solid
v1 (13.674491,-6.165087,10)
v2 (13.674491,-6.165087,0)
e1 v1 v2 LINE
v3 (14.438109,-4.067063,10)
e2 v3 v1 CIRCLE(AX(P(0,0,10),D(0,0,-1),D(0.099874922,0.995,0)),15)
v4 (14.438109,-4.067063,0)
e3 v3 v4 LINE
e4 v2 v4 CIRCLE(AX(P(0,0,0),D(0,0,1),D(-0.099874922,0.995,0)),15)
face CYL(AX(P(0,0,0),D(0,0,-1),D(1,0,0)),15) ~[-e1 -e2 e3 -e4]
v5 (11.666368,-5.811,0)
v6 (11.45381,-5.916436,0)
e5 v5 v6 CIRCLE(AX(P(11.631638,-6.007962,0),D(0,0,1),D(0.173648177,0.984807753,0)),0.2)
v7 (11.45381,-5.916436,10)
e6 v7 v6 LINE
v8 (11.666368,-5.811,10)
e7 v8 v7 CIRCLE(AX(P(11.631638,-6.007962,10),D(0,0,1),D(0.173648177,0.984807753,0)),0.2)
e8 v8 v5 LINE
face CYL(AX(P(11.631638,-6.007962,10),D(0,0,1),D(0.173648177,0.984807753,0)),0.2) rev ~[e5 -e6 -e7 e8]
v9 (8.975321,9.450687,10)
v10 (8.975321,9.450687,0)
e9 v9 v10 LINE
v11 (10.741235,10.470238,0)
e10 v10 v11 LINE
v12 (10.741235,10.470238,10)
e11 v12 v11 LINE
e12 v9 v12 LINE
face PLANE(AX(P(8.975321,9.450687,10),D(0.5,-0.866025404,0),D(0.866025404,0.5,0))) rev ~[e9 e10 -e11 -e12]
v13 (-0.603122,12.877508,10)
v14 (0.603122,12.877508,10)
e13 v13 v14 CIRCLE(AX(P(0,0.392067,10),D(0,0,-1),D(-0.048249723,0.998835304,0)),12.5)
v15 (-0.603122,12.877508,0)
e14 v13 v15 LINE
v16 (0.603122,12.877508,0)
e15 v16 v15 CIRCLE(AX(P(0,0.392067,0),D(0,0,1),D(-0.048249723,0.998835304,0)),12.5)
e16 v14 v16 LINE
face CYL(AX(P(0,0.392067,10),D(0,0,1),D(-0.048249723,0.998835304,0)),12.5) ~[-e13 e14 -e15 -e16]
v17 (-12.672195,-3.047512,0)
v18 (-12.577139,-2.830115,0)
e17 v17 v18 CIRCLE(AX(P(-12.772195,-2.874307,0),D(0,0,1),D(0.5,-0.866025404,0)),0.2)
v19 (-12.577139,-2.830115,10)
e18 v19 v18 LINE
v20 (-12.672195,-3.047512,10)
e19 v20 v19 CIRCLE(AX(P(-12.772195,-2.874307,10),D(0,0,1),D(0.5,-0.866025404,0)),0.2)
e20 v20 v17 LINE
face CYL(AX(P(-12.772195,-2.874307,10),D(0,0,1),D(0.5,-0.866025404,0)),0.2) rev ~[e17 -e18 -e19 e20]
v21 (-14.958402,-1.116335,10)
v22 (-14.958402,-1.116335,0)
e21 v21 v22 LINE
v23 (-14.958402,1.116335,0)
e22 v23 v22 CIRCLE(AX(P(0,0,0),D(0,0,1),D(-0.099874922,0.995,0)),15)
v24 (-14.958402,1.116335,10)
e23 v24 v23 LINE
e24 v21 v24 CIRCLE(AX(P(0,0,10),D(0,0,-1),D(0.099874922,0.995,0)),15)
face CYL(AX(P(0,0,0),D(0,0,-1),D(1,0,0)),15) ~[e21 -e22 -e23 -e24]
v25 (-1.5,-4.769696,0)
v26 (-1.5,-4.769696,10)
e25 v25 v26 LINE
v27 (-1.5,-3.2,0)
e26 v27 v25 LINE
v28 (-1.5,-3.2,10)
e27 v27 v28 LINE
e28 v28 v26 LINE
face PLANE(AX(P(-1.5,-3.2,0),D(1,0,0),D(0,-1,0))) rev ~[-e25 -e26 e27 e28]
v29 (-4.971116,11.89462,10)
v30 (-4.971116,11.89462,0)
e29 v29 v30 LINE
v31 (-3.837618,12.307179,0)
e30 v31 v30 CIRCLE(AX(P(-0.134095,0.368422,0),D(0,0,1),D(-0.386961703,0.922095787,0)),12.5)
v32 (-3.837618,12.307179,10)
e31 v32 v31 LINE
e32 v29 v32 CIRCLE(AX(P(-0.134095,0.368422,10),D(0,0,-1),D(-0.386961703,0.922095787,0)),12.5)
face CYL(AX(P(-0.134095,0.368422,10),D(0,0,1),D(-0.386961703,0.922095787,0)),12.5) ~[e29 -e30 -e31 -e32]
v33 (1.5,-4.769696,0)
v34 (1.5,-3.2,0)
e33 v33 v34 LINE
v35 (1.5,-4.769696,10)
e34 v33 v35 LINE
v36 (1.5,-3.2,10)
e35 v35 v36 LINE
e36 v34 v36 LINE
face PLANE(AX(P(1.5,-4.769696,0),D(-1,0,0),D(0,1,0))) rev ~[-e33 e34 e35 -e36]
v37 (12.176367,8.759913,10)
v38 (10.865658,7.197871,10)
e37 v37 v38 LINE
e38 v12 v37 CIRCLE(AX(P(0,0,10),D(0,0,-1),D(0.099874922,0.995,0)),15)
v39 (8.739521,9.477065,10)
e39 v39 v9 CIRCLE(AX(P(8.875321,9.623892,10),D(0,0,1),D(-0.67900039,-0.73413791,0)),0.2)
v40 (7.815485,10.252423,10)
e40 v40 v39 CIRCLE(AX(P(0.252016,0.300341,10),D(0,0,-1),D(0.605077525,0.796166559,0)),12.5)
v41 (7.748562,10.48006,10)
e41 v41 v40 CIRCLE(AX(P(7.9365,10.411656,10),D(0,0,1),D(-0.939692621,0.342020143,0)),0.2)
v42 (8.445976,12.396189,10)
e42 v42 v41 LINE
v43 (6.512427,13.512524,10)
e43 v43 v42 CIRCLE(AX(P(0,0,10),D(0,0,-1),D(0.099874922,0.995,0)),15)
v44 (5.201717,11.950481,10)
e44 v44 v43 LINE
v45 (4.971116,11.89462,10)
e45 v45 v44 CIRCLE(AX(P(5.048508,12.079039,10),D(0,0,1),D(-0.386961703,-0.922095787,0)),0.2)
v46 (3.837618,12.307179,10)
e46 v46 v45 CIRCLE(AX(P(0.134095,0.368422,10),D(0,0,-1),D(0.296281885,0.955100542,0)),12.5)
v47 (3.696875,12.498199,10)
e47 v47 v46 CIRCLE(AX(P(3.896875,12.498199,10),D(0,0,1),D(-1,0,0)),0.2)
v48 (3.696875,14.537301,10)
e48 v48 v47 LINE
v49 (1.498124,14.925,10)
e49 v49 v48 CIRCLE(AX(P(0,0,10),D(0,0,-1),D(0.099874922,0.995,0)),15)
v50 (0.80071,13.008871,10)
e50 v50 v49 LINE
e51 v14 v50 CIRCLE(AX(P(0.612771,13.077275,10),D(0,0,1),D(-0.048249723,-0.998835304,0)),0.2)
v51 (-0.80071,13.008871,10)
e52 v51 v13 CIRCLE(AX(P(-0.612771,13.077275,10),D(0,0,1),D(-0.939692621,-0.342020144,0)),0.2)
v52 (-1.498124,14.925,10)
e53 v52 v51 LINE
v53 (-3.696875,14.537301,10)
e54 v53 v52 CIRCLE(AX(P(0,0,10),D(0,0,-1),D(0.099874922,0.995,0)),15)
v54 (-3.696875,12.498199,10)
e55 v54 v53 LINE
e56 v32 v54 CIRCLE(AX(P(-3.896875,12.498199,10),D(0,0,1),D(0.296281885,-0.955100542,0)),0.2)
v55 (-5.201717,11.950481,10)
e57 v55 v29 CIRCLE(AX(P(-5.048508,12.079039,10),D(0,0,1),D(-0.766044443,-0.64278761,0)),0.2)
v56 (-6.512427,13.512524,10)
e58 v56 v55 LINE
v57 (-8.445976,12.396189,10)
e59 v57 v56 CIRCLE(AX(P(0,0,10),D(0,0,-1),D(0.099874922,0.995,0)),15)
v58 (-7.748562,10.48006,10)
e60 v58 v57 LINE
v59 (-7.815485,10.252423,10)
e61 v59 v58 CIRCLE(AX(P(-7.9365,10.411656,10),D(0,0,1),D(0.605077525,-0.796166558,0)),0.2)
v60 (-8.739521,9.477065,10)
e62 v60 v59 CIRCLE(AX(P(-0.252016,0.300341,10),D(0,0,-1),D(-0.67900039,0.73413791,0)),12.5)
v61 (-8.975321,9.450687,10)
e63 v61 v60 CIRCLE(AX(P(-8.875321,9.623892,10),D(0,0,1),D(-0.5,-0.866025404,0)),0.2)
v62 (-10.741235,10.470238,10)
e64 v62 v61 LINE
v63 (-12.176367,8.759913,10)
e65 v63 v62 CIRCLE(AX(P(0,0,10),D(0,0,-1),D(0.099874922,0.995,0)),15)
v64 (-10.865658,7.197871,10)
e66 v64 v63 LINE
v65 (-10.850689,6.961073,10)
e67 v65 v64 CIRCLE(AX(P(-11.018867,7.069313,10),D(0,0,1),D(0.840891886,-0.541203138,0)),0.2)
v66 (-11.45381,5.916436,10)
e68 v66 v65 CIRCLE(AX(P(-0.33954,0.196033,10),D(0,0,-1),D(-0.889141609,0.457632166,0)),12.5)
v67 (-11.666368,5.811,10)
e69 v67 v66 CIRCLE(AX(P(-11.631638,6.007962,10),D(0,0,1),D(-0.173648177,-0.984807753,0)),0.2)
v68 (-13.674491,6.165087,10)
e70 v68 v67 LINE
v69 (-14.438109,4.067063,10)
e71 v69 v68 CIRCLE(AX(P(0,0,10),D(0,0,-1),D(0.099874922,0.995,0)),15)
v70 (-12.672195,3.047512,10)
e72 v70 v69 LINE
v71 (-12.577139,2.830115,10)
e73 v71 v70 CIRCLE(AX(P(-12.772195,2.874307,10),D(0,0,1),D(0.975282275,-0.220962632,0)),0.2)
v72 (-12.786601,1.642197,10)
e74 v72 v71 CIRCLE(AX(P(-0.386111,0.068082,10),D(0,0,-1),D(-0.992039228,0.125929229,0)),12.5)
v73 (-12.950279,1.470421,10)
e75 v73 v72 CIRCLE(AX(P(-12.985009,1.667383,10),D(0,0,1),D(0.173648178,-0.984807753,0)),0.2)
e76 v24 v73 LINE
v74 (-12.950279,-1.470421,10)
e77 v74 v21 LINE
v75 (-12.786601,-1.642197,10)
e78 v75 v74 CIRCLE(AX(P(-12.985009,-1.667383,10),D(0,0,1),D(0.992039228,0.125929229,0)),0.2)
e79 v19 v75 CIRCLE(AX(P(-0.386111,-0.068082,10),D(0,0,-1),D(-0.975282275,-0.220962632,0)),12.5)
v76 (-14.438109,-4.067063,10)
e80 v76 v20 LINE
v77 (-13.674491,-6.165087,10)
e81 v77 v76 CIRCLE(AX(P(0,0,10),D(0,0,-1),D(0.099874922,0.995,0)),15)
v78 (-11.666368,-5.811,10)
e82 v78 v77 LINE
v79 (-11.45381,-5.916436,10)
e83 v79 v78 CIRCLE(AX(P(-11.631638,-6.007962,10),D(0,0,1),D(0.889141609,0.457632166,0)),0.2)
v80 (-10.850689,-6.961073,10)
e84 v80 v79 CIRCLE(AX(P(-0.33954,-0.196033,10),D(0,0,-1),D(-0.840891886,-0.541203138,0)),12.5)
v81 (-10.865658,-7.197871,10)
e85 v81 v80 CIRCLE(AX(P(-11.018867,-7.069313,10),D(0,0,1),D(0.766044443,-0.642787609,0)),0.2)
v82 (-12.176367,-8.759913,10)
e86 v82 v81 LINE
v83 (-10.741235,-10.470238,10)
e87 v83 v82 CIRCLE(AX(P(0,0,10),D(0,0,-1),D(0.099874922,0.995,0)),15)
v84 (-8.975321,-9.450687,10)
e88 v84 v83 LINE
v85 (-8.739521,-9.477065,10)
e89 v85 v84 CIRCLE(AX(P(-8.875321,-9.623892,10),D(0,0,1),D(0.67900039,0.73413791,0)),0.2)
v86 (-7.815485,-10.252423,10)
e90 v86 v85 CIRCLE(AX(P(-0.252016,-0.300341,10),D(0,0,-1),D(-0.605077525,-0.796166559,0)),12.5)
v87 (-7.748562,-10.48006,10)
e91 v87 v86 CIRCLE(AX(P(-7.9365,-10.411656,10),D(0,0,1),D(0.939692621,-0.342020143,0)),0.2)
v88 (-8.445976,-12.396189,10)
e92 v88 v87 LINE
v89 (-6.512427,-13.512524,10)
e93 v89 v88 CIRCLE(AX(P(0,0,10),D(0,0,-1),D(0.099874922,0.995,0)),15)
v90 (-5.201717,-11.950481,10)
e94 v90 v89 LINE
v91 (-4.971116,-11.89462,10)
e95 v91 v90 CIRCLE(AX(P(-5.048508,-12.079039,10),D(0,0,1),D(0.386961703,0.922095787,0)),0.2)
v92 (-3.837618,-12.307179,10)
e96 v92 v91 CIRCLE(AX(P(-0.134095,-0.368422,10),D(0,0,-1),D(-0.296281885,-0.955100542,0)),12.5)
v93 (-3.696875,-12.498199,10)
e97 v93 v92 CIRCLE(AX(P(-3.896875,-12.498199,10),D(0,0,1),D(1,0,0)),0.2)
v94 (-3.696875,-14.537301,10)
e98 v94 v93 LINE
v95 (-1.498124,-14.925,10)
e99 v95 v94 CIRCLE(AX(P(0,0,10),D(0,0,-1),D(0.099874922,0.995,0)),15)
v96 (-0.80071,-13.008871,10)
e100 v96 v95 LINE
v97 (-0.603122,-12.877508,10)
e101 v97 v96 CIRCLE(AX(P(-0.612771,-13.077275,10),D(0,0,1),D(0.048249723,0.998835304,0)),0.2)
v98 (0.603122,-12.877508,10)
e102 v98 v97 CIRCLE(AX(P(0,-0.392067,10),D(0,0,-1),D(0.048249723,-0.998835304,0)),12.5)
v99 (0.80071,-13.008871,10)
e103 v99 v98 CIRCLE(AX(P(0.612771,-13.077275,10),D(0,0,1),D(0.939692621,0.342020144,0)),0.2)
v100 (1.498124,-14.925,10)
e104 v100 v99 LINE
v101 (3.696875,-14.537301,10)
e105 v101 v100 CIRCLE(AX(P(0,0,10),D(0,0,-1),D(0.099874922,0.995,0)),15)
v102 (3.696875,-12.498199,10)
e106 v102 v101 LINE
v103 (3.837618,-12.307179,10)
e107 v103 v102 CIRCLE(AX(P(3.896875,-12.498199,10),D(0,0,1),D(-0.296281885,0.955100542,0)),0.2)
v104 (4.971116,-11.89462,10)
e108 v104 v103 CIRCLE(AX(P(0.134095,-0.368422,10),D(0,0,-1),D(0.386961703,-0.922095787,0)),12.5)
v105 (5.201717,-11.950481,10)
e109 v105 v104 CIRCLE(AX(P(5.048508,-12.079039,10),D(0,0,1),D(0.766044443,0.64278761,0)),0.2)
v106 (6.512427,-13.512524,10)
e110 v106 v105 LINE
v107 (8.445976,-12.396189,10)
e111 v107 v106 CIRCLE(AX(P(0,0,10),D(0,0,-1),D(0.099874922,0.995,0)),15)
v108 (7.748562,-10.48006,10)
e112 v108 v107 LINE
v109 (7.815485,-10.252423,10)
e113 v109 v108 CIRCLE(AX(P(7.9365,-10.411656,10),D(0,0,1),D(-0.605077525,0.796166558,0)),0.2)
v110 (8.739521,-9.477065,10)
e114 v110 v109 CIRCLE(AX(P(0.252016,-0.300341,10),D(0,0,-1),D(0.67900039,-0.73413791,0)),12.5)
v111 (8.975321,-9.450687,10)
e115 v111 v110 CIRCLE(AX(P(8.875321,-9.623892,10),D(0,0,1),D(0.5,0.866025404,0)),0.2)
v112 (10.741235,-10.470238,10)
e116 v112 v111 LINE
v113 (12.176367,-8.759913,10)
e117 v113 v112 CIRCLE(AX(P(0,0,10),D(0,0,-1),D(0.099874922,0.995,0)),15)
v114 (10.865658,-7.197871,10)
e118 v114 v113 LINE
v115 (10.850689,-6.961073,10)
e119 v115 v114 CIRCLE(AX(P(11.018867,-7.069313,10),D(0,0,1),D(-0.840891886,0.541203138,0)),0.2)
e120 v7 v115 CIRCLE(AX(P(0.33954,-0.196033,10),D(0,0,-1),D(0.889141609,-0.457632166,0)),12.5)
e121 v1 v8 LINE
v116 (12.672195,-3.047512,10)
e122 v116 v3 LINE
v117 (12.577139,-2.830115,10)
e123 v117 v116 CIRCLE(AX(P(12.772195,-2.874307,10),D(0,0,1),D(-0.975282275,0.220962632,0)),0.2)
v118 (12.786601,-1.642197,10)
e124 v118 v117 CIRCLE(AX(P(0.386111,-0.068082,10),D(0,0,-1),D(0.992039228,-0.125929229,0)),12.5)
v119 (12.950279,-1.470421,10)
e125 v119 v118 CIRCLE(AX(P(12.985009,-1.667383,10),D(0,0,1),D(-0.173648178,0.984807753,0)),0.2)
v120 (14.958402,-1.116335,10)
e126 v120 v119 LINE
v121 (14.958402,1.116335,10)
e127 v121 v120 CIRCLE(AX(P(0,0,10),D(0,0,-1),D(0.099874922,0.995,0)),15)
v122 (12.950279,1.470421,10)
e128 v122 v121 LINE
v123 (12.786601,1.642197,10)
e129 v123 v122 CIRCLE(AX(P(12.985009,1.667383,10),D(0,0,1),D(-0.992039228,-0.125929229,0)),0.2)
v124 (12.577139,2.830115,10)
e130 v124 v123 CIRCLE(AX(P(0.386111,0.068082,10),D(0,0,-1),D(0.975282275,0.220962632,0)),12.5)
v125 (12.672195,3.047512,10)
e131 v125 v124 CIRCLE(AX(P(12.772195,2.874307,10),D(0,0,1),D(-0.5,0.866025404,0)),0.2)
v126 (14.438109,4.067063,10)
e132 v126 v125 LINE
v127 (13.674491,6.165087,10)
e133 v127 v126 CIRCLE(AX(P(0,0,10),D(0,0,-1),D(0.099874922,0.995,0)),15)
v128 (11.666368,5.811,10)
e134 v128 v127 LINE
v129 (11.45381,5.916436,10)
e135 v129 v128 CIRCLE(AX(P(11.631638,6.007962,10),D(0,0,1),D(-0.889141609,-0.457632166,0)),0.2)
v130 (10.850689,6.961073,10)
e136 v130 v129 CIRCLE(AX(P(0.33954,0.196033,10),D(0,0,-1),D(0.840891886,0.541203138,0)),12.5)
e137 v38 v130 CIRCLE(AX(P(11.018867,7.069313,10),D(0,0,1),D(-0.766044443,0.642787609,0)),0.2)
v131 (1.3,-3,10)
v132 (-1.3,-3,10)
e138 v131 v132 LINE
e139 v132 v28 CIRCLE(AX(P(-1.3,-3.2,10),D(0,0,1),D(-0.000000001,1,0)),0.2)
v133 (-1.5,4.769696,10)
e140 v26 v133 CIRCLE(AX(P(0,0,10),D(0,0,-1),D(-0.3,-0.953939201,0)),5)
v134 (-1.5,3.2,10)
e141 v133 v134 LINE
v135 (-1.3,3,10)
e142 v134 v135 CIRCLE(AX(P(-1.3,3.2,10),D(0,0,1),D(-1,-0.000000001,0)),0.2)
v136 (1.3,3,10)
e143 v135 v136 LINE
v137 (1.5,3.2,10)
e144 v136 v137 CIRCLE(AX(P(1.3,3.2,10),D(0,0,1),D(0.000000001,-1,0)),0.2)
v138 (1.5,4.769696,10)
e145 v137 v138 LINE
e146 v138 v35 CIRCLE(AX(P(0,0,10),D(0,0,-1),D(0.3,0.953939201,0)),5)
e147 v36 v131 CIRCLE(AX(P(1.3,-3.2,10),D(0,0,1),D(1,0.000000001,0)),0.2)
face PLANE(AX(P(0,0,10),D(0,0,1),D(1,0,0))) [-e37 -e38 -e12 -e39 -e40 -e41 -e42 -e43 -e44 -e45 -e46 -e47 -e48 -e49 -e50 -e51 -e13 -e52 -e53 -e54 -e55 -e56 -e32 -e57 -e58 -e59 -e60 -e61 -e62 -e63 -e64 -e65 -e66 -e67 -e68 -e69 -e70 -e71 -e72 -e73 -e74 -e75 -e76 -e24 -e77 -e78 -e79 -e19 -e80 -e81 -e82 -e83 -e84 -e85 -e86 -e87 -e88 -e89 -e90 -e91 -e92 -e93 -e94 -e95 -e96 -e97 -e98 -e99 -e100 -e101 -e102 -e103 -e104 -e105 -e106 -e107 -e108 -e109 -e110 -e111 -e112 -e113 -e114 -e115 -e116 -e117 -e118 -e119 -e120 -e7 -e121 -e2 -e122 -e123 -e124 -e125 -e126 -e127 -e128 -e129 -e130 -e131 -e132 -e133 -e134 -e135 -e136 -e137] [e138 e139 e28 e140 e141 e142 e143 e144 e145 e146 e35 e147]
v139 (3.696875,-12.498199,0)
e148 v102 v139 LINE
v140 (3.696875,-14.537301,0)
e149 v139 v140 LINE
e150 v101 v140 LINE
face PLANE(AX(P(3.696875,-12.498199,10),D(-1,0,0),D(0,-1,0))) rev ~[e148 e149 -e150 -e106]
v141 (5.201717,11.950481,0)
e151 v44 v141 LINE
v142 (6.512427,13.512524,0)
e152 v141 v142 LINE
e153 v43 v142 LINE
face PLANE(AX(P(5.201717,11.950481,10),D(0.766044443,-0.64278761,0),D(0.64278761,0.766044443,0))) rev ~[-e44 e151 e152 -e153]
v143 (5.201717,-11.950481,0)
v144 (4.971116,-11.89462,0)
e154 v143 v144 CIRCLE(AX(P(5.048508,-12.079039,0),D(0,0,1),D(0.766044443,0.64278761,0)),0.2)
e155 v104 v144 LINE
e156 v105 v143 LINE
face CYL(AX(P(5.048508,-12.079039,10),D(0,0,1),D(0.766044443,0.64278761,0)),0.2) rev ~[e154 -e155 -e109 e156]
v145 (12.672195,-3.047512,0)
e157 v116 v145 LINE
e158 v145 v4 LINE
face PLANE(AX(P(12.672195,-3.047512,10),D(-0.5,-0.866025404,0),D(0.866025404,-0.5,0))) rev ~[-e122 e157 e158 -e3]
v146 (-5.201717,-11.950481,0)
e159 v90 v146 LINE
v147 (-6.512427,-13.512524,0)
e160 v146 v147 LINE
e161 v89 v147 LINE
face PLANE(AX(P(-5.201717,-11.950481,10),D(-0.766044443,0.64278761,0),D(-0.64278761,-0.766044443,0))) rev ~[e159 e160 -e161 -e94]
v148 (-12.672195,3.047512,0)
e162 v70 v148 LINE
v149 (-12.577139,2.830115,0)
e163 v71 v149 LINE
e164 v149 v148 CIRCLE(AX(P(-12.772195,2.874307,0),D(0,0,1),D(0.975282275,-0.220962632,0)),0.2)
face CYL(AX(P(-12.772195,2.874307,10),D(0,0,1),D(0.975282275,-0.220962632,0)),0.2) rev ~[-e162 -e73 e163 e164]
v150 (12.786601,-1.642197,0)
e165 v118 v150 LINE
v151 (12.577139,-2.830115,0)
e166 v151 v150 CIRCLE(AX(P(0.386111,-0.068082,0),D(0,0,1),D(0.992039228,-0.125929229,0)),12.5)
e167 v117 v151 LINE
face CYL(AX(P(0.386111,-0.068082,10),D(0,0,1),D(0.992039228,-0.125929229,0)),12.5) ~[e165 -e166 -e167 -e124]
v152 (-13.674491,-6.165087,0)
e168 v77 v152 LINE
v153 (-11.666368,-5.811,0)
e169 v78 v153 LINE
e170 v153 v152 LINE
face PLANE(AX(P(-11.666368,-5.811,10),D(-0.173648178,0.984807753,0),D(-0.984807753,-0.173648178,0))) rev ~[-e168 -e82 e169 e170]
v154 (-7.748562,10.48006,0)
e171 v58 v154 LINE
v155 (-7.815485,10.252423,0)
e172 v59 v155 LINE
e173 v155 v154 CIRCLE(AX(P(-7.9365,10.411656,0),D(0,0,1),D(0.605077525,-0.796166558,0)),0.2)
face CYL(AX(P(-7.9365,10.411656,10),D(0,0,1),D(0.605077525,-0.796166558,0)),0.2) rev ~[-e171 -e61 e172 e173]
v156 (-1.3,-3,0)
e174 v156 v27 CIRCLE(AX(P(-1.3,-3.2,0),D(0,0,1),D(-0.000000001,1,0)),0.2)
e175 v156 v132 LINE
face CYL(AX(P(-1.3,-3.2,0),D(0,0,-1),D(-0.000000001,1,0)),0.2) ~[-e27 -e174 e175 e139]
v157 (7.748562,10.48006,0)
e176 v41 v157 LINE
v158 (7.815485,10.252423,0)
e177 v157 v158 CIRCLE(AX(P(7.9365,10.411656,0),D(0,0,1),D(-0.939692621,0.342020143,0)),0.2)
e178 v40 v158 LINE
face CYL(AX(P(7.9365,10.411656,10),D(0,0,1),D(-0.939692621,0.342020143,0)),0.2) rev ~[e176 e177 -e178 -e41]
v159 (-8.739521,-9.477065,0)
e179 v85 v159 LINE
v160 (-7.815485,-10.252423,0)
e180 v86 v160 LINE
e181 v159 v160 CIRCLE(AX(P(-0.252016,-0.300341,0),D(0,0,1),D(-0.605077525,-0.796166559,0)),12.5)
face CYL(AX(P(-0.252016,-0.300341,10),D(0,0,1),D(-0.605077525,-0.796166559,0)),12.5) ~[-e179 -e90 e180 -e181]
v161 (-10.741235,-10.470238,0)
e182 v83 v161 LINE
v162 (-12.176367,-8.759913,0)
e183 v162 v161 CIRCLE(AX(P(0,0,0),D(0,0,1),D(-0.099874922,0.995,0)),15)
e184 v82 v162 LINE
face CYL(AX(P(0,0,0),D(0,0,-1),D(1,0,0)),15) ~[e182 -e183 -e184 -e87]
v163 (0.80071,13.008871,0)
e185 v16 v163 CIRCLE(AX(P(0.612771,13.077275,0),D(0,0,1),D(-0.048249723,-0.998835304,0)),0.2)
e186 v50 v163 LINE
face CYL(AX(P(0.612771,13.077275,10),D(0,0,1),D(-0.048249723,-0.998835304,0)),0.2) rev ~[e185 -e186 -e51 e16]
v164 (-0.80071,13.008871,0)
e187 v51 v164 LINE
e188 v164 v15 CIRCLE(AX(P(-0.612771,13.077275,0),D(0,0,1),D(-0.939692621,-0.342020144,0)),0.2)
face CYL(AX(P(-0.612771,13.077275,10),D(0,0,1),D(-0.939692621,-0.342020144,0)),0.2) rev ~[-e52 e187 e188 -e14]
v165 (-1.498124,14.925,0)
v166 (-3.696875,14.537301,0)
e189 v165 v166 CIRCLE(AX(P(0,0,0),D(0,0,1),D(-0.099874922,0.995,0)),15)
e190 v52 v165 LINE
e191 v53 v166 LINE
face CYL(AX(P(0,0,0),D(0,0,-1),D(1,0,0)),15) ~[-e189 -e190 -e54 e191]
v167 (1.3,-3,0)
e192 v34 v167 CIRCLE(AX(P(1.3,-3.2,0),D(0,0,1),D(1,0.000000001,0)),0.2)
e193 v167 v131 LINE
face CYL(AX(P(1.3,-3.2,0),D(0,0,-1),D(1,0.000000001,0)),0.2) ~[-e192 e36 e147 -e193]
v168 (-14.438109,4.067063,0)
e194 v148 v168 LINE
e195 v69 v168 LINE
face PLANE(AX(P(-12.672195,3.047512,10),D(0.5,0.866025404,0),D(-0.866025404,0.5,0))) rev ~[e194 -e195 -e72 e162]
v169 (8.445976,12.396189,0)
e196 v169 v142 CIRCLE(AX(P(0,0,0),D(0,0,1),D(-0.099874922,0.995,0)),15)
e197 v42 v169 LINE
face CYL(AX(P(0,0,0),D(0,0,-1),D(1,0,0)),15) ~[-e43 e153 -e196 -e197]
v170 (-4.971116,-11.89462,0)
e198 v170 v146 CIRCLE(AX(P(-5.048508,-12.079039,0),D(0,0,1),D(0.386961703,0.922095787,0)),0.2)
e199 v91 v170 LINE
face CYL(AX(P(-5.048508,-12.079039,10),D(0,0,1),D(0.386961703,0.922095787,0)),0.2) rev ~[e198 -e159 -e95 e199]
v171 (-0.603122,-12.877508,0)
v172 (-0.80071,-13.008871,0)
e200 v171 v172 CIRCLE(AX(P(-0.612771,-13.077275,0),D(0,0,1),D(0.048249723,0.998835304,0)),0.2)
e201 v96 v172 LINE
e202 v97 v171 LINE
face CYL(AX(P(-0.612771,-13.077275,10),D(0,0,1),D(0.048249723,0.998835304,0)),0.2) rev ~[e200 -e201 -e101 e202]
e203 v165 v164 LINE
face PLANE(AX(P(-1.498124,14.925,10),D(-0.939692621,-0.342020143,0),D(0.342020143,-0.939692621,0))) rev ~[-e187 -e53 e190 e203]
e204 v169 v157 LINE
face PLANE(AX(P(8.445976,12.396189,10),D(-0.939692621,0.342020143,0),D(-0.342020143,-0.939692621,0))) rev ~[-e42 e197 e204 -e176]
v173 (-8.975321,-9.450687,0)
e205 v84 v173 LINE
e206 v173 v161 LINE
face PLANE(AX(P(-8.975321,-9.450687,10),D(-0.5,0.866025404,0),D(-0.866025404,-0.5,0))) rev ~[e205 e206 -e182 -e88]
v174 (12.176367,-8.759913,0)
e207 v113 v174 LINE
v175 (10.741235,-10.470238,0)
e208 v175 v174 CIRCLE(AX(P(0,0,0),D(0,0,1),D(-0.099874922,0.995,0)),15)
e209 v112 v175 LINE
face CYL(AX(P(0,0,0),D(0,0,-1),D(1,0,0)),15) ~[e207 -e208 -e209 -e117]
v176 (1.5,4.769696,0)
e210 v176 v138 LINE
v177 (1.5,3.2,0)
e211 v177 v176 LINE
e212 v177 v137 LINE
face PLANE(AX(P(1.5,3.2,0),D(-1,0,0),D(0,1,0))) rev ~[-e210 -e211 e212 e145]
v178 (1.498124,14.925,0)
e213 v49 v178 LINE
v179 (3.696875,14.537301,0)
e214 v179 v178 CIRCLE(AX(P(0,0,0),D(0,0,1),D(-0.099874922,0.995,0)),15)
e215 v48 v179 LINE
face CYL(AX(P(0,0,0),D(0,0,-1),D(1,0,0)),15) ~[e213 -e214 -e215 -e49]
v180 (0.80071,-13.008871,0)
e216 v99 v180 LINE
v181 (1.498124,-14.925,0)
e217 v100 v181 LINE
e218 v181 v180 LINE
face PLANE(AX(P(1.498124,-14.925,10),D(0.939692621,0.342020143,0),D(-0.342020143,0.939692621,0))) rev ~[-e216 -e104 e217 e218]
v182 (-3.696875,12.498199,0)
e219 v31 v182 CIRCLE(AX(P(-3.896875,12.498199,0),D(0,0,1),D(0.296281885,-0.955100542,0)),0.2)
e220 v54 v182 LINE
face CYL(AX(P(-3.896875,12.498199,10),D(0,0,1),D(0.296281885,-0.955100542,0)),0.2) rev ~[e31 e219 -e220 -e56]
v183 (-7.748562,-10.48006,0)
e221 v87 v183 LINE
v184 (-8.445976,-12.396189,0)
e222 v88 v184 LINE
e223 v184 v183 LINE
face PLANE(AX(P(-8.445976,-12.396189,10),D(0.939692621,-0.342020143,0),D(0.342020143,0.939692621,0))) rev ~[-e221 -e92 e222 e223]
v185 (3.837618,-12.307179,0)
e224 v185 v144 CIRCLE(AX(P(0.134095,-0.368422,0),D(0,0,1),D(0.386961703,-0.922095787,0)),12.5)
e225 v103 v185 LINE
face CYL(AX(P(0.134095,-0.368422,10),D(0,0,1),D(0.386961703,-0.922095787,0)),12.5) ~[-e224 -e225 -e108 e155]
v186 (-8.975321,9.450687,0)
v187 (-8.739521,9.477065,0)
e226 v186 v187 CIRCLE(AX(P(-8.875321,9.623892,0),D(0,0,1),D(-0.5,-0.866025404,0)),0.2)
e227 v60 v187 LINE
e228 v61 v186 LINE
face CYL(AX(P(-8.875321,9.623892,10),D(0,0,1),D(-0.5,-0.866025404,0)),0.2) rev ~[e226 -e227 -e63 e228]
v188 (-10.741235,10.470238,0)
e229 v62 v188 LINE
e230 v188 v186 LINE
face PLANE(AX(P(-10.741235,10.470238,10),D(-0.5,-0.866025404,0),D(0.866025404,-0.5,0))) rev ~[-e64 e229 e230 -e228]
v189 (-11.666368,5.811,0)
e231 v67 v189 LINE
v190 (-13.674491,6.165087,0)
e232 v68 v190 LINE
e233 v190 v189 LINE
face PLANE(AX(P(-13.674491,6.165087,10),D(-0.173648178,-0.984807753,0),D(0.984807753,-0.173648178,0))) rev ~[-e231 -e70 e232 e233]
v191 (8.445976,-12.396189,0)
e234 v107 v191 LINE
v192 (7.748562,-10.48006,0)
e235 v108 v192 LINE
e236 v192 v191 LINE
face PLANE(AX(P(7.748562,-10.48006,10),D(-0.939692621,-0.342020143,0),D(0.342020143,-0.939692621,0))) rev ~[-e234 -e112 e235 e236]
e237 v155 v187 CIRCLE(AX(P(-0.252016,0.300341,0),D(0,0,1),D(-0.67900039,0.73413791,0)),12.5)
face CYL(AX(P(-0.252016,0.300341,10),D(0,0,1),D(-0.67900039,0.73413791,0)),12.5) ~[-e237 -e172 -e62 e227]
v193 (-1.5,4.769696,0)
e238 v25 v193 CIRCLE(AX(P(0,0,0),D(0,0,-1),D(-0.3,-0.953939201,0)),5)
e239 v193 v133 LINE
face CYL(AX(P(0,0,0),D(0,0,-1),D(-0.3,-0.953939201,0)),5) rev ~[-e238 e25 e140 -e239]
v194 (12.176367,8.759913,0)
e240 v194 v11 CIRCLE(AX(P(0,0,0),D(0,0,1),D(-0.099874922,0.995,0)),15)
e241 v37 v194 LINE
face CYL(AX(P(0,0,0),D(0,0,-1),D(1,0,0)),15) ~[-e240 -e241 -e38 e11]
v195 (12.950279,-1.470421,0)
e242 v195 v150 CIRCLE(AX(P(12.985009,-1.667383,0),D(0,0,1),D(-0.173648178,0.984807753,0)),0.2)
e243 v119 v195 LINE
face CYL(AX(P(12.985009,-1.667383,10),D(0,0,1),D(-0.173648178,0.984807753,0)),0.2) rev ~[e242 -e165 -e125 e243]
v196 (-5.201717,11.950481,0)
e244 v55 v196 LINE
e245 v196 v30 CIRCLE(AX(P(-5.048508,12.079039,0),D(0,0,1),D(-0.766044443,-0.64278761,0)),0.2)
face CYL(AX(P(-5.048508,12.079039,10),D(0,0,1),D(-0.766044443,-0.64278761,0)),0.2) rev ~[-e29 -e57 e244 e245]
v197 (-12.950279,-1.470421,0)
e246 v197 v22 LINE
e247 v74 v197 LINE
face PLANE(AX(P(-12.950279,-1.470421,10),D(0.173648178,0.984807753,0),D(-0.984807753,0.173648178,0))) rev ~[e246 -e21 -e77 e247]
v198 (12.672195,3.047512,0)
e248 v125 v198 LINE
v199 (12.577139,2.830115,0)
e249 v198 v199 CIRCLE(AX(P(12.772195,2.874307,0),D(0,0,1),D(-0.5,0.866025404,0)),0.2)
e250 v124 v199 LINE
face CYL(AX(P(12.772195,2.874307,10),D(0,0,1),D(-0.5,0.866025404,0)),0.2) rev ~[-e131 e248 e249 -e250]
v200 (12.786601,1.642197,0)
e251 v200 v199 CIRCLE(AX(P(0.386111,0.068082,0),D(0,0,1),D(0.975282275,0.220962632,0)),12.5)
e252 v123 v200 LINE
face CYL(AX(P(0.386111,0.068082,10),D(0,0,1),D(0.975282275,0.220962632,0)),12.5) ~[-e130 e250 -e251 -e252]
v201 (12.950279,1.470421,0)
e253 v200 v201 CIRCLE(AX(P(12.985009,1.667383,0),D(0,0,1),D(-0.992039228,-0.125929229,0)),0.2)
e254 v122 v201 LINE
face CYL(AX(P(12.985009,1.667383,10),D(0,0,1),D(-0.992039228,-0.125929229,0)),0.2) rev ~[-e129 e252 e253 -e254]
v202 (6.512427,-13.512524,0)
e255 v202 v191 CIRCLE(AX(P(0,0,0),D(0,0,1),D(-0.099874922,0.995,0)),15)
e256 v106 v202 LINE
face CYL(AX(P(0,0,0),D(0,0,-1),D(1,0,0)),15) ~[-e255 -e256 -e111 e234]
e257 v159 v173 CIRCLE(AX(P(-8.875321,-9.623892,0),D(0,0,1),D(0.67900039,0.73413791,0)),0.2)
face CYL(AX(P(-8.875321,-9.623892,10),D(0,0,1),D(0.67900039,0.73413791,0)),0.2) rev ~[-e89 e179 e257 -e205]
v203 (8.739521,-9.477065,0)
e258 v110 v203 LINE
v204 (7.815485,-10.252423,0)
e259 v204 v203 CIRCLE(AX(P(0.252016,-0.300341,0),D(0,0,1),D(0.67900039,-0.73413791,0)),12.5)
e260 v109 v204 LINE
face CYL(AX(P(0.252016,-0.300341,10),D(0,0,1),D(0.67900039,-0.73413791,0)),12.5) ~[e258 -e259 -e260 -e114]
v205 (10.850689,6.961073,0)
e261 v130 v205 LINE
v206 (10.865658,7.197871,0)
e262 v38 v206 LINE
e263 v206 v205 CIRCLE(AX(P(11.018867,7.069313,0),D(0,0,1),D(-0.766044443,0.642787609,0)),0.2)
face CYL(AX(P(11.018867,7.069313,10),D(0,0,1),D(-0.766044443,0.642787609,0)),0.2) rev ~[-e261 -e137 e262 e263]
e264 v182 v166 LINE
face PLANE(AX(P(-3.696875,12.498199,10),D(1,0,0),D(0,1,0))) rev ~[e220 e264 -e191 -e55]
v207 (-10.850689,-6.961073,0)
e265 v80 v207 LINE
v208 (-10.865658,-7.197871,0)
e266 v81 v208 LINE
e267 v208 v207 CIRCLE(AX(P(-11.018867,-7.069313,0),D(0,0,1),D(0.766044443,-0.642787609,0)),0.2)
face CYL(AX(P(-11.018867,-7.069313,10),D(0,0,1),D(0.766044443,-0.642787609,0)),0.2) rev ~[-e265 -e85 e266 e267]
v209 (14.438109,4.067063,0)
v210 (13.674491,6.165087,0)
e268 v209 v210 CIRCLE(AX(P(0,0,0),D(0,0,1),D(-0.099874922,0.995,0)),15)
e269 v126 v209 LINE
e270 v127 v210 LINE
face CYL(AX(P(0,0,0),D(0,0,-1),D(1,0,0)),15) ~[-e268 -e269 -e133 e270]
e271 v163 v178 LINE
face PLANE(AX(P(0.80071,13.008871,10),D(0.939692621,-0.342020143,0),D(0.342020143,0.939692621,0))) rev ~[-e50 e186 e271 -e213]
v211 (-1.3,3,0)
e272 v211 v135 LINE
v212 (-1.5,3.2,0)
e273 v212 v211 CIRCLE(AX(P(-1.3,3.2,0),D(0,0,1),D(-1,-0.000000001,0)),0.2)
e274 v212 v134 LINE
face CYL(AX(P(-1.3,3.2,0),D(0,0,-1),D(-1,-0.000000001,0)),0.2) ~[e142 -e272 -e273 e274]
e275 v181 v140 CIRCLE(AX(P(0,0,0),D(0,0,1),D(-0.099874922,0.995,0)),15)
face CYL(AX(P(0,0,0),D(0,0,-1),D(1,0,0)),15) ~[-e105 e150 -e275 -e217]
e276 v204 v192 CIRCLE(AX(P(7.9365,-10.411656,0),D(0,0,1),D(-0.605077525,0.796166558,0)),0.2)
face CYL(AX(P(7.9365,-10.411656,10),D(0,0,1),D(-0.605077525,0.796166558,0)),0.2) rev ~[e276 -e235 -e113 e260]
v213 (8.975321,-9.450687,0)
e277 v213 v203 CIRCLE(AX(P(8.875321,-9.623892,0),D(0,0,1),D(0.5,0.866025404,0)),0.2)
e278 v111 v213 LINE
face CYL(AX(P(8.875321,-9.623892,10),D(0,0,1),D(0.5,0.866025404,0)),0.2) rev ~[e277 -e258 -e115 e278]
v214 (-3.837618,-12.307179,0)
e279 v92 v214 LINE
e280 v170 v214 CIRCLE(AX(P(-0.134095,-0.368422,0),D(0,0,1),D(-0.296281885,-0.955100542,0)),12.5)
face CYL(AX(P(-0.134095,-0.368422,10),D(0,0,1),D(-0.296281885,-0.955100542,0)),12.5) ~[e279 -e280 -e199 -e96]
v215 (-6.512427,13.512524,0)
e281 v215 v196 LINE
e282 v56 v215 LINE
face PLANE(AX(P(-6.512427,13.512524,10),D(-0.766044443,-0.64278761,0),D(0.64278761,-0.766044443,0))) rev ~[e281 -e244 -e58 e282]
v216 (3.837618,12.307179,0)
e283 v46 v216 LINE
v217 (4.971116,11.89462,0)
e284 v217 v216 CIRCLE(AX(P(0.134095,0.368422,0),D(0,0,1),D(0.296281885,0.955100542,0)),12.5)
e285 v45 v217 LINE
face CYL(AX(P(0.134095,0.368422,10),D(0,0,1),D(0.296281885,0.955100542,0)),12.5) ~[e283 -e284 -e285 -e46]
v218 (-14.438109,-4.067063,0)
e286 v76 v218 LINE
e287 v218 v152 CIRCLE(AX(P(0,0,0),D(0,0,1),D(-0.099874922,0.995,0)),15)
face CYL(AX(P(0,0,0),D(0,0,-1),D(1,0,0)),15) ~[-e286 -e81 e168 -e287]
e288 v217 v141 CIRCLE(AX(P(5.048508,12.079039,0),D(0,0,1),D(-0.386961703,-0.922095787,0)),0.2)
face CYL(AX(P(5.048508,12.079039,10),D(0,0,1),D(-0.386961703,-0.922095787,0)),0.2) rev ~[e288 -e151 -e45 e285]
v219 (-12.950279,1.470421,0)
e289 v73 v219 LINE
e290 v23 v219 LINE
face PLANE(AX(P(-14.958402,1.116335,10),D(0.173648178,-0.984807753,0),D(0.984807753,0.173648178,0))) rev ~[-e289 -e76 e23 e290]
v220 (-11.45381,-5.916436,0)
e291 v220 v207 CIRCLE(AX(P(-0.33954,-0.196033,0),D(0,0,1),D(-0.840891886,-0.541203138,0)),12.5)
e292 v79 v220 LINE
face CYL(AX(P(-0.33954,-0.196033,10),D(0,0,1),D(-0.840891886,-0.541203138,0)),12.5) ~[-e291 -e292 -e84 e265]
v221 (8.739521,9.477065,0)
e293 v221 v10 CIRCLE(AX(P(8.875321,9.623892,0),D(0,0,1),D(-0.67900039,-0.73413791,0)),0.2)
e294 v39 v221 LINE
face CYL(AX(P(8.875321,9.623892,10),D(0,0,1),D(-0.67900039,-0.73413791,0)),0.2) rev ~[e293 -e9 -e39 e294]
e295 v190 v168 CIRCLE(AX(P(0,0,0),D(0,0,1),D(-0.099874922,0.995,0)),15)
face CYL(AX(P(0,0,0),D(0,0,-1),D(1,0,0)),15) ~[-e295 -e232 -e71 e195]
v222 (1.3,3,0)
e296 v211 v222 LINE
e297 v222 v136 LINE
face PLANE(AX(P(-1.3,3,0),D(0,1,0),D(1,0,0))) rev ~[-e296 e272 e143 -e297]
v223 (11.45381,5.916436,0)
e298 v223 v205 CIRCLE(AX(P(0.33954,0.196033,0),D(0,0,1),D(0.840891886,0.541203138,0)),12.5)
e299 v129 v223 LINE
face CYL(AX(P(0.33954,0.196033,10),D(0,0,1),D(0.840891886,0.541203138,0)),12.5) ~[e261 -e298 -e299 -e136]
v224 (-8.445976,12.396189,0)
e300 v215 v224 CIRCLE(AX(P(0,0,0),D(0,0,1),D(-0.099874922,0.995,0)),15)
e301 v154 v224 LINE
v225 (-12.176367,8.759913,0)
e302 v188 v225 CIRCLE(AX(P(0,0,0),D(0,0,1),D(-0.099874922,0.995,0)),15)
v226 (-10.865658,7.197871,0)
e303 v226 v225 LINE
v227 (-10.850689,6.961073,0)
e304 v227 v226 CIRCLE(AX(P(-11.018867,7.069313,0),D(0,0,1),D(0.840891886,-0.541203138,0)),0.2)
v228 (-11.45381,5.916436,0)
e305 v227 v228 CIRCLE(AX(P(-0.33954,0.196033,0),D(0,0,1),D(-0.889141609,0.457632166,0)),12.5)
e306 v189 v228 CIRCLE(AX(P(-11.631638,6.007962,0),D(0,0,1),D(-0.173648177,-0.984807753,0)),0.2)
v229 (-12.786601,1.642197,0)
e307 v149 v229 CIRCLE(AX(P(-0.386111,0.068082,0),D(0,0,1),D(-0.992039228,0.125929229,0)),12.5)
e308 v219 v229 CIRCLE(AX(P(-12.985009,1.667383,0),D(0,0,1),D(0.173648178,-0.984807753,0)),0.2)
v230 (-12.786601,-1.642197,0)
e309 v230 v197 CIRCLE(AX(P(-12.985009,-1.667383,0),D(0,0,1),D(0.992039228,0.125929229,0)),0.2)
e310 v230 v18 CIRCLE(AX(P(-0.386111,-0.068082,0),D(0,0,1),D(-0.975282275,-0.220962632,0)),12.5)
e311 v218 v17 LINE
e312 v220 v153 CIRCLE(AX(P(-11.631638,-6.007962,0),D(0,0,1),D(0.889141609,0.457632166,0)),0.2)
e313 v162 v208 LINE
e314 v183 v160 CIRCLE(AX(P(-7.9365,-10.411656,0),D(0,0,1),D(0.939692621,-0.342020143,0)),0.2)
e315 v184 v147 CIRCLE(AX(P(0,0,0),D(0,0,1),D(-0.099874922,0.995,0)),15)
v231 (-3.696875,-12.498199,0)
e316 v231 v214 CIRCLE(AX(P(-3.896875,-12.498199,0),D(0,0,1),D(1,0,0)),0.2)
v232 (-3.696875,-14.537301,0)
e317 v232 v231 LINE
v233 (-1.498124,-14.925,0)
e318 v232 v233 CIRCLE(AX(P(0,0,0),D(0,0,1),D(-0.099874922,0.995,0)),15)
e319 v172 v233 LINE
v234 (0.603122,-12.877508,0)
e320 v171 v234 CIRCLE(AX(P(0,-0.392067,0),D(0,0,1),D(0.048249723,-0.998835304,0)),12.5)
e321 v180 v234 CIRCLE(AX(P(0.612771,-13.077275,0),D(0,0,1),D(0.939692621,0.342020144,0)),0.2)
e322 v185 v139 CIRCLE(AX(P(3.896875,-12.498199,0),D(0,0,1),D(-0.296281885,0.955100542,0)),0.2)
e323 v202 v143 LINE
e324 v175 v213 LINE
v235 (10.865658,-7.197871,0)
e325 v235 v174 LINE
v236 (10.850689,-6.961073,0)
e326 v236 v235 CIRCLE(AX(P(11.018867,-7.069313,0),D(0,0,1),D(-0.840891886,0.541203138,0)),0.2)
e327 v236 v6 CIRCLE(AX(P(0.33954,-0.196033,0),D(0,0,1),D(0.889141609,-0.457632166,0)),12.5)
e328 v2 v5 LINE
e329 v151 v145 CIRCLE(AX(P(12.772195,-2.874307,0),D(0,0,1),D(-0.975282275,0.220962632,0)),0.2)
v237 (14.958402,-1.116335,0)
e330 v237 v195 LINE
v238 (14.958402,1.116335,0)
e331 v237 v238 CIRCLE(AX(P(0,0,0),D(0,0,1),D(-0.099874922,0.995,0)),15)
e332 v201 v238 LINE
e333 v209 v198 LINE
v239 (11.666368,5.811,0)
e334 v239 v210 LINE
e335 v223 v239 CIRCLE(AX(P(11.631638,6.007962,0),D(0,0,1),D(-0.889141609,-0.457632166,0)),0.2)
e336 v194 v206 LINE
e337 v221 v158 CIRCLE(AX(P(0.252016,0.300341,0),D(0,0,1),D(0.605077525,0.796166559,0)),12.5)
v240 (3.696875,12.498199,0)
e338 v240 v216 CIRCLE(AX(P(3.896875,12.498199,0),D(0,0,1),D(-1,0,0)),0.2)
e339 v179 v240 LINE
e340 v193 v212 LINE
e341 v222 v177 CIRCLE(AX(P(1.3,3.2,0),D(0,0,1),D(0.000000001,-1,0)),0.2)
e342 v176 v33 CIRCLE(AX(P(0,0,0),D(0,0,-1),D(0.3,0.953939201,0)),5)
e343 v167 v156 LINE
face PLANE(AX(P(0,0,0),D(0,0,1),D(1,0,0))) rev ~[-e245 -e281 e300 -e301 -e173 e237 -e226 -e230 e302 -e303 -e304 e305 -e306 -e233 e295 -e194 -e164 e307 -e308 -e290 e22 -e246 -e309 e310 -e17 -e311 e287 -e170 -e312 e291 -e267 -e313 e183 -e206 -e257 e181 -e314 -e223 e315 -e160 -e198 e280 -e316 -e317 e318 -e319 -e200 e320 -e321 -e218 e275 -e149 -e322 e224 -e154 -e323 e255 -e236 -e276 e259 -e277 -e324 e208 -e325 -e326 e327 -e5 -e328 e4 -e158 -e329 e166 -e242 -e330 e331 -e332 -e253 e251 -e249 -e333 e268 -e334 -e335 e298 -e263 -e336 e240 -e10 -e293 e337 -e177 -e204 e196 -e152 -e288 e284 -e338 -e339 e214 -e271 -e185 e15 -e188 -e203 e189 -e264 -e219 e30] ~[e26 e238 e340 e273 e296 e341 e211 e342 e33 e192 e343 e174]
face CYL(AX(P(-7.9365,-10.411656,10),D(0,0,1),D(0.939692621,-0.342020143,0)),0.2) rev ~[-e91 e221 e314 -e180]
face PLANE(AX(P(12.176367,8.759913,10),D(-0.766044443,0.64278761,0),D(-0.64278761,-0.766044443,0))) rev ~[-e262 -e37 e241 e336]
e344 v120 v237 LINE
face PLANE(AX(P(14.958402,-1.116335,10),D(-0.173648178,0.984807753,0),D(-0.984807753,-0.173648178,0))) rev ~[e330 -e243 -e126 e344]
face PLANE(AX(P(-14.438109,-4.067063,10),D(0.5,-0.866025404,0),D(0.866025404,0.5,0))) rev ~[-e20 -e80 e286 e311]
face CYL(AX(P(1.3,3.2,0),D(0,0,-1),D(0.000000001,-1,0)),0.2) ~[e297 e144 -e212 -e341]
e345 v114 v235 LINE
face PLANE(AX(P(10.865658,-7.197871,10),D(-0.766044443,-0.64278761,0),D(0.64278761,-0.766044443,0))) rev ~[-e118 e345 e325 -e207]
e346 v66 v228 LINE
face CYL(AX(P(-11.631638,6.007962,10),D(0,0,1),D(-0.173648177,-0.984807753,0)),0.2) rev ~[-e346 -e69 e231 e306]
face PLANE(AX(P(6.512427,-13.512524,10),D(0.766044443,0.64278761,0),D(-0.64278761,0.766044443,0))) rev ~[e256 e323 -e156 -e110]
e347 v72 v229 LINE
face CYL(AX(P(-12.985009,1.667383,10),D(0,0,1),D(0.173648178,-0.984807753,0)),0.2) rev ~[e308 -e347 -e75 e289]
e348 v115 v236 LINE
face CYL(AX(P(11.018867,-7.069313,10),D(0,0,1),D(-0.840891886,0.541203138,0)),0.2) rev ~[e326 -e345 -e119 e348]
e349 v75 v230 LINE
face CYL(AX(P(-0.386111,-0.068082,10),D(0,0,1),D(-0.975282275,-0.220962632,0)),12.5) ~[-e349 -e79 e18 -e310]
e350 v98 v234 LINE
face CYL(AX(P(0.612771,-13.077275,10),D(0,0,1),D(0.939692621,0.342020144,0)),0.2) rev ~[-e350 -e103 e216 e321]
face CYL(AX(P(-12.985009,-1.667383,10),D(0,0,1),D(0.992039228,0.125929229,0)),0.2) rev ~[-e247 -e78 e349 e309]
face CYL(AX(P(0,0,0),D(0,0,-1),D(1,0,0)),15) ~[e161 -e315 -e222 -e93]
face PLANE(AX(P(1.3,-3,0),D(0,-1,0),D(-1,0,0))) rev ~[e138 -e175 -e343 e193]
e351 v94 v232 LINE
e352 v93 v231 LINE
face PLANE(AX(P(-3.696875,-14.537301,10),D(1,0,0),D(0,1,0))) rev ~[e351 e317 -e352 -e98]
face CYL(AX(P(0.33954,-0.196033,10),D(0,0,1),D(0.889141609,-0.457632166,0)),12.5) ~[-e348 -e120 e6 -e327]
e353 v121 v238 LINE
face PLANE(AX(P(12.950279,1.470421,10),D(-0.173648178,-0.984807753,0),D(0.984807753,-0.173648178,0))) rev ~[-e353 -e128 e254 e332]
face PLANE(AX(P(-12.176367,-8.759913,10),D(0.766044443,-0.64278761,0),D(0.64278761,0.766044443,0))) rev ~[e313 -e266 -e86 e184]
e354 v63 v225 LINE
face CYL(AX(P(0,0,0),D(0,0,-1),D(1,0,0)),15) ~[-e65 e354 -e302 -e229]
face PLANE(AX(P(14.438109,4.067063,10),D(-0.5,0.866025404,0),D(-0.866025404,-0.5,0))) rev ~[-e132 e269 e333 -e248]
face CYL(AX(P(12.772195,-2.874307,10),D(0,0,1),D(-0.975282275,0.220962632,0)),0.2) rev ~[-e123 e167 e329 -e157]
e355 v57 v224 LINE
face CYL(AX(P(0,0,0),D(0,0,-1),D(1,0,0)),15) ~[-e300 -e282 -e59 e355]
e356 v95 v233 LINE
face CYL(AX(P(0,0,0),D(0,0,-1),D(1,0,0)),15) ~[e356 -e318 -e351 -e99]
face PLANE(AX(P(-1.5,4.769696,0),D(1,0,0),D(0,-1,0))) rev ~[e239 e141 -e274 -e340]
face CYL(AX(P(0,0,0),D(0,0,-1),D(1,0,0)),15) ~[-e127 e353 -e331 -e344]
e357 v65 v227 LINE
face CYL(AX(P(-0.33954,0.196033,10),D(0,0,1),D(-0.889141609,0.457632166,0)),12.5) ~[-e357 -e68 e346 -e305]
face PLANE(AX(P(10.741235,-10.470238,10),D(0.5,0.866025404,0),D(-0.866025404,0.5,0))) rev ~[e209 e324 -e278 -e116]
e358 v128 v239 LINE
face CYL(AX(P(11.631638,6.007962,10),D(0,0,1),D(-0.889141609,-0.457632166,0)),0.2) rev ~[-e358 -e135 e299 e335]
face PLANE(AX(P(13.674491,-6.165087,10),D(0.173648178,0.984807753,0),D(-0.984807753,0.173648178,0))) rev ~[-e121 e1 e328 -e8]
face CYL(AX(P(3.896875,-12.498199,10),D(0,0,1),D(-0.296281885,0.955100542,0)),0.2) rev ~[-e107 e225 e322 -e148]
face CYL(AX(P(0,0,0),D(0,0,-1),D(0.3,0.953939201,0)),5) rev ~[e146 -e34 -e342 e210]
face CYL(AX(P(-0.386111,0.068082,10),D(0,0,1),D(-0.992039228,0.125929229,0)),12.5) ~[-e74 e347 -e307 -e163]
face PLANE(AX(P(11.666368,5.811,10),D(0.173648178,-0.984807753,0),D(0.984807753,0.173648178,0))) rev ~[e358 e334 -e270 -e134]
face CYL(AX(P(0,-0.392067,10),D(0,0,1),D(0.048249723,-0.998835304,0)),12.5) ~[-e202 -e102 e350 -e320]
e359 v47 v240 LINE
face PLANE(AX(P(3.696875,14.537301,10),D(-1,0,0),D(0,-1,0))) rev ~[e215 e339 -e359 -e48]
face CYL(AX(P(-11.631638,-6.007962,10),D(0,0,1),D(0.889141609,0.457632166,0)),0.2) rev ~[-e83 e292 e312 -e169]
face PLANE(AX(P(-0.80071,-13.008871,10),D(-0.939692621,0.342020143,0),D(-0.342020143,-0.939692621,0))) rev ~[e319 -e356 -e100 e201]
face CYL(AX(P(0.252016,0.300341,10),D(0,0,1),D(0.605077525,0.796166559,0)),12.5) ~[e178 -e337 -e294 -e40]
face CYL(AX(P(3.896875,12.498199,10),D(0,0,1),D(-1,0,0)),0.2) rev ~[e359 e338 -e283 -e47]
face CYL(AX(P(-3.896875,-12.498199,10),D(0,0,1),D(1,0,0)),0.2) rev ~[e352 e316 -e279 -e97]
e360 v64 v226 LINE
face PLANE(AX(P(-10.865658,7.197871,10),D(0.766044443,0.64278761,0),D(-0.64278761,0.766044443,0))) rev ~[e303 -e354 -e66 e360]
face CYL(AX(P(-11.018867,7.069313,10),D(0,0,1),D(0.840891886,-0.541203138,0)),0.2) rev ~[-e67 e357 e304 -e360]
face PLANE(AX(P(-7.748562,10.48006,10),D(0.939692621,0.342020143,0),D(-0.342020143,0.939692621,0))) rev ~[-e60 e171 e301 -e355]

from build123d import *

# Parameters (mm, degrees)
F0_R     = 15
F1_DEPTH = 10
F3_DEPTH = 10.001
F4_COUNT = 18


with BuildPart() as f1:
    # F0 (on Top) → F1 (new body)
    with BuildSketch(Plane.XY):
        Circle(F0_R)
        with BuildLine():
            ThreePointArc((1.5, 4.7696960071), (5, 0), (1.5, -4.7696960071))
            Line((1.5, -4.7696960071), (1.5, -3.2))
            ThreePointArc((1.5, -3.2), (1.4414213562, -3.0585786438), (1.3, -3))
            Line((1.3, -3), (-1.3, -3))
            ThreePointArc((-1.3, -3), (-1.4414213562, -3.0585786438), (-1.5, -3.2))
            Line((-1.5, -3.2), (-1.5, -4.7696960071))
            ThreePointArc((-1.5, -4.7696960071), (-5, 0), (-1.5, 4.7696960071))
            Line((-1.5, 4.7696960071), (-1.5, 3.2))
            ThreePointArc((-1.5, 3.2), (-1.4414213562, 3.0585786438), (-1.3, 3))
            Line((-1.3, 3), (1.3, 3))
            ThreePointArc((1.3, 3), (1.4414213562, 3.0585786438), (1.5, 3.2))
            Line((1.5, 3.2), (1.5, 4.7696960071))
        make_face(mode=Mode.SUBTRACT)
    extrude(amount=F1_DEPTH)

    # F2 (on face) → F3 (cut, through all)
    with BuildSketch(Plane.XY.offset(10)):
        with BuildLine():
            ThreePointArc((0.6031215444, 12.8775082637), (0.7234998321, 12.9107243291), (0.8007100133, 13.0088712958))
            Line((0.8007100133, 13.0088712958), (1.4981238267, 14.925))
            ThreePointArc((1.4981238267, 14.925), (0, 15), (-1.4981238267, 14.925))
            Line((-1.4981238267, 14.925), (-0.8007100133, 13.0088712958))
            ThreePointArc((-0.8007100133, 13.0088712958), (-0.7234998321, 12.9107243291), (-0.6031215444, 12.8775082637))
            ThreePointArc((-0.6031215444, 12.8775082637), (0, 12.8920669658), (0.6031215444, 12.8775082637))
        make_face()
    f3 = extrude(amount=-F3_DEPTH, mode=Mode.SUBTRACT)

    # F4: F3 ×18 about axis
    f4_axis = Axis((0, 0, 0), (0, 0, -1))
    for i in range(1, F4_COUNT):
        add(f3.rotate(f4_axis, i * 360 / F4_COUNT), mode=Mode.SUBTRACT)


solid = f1.part
